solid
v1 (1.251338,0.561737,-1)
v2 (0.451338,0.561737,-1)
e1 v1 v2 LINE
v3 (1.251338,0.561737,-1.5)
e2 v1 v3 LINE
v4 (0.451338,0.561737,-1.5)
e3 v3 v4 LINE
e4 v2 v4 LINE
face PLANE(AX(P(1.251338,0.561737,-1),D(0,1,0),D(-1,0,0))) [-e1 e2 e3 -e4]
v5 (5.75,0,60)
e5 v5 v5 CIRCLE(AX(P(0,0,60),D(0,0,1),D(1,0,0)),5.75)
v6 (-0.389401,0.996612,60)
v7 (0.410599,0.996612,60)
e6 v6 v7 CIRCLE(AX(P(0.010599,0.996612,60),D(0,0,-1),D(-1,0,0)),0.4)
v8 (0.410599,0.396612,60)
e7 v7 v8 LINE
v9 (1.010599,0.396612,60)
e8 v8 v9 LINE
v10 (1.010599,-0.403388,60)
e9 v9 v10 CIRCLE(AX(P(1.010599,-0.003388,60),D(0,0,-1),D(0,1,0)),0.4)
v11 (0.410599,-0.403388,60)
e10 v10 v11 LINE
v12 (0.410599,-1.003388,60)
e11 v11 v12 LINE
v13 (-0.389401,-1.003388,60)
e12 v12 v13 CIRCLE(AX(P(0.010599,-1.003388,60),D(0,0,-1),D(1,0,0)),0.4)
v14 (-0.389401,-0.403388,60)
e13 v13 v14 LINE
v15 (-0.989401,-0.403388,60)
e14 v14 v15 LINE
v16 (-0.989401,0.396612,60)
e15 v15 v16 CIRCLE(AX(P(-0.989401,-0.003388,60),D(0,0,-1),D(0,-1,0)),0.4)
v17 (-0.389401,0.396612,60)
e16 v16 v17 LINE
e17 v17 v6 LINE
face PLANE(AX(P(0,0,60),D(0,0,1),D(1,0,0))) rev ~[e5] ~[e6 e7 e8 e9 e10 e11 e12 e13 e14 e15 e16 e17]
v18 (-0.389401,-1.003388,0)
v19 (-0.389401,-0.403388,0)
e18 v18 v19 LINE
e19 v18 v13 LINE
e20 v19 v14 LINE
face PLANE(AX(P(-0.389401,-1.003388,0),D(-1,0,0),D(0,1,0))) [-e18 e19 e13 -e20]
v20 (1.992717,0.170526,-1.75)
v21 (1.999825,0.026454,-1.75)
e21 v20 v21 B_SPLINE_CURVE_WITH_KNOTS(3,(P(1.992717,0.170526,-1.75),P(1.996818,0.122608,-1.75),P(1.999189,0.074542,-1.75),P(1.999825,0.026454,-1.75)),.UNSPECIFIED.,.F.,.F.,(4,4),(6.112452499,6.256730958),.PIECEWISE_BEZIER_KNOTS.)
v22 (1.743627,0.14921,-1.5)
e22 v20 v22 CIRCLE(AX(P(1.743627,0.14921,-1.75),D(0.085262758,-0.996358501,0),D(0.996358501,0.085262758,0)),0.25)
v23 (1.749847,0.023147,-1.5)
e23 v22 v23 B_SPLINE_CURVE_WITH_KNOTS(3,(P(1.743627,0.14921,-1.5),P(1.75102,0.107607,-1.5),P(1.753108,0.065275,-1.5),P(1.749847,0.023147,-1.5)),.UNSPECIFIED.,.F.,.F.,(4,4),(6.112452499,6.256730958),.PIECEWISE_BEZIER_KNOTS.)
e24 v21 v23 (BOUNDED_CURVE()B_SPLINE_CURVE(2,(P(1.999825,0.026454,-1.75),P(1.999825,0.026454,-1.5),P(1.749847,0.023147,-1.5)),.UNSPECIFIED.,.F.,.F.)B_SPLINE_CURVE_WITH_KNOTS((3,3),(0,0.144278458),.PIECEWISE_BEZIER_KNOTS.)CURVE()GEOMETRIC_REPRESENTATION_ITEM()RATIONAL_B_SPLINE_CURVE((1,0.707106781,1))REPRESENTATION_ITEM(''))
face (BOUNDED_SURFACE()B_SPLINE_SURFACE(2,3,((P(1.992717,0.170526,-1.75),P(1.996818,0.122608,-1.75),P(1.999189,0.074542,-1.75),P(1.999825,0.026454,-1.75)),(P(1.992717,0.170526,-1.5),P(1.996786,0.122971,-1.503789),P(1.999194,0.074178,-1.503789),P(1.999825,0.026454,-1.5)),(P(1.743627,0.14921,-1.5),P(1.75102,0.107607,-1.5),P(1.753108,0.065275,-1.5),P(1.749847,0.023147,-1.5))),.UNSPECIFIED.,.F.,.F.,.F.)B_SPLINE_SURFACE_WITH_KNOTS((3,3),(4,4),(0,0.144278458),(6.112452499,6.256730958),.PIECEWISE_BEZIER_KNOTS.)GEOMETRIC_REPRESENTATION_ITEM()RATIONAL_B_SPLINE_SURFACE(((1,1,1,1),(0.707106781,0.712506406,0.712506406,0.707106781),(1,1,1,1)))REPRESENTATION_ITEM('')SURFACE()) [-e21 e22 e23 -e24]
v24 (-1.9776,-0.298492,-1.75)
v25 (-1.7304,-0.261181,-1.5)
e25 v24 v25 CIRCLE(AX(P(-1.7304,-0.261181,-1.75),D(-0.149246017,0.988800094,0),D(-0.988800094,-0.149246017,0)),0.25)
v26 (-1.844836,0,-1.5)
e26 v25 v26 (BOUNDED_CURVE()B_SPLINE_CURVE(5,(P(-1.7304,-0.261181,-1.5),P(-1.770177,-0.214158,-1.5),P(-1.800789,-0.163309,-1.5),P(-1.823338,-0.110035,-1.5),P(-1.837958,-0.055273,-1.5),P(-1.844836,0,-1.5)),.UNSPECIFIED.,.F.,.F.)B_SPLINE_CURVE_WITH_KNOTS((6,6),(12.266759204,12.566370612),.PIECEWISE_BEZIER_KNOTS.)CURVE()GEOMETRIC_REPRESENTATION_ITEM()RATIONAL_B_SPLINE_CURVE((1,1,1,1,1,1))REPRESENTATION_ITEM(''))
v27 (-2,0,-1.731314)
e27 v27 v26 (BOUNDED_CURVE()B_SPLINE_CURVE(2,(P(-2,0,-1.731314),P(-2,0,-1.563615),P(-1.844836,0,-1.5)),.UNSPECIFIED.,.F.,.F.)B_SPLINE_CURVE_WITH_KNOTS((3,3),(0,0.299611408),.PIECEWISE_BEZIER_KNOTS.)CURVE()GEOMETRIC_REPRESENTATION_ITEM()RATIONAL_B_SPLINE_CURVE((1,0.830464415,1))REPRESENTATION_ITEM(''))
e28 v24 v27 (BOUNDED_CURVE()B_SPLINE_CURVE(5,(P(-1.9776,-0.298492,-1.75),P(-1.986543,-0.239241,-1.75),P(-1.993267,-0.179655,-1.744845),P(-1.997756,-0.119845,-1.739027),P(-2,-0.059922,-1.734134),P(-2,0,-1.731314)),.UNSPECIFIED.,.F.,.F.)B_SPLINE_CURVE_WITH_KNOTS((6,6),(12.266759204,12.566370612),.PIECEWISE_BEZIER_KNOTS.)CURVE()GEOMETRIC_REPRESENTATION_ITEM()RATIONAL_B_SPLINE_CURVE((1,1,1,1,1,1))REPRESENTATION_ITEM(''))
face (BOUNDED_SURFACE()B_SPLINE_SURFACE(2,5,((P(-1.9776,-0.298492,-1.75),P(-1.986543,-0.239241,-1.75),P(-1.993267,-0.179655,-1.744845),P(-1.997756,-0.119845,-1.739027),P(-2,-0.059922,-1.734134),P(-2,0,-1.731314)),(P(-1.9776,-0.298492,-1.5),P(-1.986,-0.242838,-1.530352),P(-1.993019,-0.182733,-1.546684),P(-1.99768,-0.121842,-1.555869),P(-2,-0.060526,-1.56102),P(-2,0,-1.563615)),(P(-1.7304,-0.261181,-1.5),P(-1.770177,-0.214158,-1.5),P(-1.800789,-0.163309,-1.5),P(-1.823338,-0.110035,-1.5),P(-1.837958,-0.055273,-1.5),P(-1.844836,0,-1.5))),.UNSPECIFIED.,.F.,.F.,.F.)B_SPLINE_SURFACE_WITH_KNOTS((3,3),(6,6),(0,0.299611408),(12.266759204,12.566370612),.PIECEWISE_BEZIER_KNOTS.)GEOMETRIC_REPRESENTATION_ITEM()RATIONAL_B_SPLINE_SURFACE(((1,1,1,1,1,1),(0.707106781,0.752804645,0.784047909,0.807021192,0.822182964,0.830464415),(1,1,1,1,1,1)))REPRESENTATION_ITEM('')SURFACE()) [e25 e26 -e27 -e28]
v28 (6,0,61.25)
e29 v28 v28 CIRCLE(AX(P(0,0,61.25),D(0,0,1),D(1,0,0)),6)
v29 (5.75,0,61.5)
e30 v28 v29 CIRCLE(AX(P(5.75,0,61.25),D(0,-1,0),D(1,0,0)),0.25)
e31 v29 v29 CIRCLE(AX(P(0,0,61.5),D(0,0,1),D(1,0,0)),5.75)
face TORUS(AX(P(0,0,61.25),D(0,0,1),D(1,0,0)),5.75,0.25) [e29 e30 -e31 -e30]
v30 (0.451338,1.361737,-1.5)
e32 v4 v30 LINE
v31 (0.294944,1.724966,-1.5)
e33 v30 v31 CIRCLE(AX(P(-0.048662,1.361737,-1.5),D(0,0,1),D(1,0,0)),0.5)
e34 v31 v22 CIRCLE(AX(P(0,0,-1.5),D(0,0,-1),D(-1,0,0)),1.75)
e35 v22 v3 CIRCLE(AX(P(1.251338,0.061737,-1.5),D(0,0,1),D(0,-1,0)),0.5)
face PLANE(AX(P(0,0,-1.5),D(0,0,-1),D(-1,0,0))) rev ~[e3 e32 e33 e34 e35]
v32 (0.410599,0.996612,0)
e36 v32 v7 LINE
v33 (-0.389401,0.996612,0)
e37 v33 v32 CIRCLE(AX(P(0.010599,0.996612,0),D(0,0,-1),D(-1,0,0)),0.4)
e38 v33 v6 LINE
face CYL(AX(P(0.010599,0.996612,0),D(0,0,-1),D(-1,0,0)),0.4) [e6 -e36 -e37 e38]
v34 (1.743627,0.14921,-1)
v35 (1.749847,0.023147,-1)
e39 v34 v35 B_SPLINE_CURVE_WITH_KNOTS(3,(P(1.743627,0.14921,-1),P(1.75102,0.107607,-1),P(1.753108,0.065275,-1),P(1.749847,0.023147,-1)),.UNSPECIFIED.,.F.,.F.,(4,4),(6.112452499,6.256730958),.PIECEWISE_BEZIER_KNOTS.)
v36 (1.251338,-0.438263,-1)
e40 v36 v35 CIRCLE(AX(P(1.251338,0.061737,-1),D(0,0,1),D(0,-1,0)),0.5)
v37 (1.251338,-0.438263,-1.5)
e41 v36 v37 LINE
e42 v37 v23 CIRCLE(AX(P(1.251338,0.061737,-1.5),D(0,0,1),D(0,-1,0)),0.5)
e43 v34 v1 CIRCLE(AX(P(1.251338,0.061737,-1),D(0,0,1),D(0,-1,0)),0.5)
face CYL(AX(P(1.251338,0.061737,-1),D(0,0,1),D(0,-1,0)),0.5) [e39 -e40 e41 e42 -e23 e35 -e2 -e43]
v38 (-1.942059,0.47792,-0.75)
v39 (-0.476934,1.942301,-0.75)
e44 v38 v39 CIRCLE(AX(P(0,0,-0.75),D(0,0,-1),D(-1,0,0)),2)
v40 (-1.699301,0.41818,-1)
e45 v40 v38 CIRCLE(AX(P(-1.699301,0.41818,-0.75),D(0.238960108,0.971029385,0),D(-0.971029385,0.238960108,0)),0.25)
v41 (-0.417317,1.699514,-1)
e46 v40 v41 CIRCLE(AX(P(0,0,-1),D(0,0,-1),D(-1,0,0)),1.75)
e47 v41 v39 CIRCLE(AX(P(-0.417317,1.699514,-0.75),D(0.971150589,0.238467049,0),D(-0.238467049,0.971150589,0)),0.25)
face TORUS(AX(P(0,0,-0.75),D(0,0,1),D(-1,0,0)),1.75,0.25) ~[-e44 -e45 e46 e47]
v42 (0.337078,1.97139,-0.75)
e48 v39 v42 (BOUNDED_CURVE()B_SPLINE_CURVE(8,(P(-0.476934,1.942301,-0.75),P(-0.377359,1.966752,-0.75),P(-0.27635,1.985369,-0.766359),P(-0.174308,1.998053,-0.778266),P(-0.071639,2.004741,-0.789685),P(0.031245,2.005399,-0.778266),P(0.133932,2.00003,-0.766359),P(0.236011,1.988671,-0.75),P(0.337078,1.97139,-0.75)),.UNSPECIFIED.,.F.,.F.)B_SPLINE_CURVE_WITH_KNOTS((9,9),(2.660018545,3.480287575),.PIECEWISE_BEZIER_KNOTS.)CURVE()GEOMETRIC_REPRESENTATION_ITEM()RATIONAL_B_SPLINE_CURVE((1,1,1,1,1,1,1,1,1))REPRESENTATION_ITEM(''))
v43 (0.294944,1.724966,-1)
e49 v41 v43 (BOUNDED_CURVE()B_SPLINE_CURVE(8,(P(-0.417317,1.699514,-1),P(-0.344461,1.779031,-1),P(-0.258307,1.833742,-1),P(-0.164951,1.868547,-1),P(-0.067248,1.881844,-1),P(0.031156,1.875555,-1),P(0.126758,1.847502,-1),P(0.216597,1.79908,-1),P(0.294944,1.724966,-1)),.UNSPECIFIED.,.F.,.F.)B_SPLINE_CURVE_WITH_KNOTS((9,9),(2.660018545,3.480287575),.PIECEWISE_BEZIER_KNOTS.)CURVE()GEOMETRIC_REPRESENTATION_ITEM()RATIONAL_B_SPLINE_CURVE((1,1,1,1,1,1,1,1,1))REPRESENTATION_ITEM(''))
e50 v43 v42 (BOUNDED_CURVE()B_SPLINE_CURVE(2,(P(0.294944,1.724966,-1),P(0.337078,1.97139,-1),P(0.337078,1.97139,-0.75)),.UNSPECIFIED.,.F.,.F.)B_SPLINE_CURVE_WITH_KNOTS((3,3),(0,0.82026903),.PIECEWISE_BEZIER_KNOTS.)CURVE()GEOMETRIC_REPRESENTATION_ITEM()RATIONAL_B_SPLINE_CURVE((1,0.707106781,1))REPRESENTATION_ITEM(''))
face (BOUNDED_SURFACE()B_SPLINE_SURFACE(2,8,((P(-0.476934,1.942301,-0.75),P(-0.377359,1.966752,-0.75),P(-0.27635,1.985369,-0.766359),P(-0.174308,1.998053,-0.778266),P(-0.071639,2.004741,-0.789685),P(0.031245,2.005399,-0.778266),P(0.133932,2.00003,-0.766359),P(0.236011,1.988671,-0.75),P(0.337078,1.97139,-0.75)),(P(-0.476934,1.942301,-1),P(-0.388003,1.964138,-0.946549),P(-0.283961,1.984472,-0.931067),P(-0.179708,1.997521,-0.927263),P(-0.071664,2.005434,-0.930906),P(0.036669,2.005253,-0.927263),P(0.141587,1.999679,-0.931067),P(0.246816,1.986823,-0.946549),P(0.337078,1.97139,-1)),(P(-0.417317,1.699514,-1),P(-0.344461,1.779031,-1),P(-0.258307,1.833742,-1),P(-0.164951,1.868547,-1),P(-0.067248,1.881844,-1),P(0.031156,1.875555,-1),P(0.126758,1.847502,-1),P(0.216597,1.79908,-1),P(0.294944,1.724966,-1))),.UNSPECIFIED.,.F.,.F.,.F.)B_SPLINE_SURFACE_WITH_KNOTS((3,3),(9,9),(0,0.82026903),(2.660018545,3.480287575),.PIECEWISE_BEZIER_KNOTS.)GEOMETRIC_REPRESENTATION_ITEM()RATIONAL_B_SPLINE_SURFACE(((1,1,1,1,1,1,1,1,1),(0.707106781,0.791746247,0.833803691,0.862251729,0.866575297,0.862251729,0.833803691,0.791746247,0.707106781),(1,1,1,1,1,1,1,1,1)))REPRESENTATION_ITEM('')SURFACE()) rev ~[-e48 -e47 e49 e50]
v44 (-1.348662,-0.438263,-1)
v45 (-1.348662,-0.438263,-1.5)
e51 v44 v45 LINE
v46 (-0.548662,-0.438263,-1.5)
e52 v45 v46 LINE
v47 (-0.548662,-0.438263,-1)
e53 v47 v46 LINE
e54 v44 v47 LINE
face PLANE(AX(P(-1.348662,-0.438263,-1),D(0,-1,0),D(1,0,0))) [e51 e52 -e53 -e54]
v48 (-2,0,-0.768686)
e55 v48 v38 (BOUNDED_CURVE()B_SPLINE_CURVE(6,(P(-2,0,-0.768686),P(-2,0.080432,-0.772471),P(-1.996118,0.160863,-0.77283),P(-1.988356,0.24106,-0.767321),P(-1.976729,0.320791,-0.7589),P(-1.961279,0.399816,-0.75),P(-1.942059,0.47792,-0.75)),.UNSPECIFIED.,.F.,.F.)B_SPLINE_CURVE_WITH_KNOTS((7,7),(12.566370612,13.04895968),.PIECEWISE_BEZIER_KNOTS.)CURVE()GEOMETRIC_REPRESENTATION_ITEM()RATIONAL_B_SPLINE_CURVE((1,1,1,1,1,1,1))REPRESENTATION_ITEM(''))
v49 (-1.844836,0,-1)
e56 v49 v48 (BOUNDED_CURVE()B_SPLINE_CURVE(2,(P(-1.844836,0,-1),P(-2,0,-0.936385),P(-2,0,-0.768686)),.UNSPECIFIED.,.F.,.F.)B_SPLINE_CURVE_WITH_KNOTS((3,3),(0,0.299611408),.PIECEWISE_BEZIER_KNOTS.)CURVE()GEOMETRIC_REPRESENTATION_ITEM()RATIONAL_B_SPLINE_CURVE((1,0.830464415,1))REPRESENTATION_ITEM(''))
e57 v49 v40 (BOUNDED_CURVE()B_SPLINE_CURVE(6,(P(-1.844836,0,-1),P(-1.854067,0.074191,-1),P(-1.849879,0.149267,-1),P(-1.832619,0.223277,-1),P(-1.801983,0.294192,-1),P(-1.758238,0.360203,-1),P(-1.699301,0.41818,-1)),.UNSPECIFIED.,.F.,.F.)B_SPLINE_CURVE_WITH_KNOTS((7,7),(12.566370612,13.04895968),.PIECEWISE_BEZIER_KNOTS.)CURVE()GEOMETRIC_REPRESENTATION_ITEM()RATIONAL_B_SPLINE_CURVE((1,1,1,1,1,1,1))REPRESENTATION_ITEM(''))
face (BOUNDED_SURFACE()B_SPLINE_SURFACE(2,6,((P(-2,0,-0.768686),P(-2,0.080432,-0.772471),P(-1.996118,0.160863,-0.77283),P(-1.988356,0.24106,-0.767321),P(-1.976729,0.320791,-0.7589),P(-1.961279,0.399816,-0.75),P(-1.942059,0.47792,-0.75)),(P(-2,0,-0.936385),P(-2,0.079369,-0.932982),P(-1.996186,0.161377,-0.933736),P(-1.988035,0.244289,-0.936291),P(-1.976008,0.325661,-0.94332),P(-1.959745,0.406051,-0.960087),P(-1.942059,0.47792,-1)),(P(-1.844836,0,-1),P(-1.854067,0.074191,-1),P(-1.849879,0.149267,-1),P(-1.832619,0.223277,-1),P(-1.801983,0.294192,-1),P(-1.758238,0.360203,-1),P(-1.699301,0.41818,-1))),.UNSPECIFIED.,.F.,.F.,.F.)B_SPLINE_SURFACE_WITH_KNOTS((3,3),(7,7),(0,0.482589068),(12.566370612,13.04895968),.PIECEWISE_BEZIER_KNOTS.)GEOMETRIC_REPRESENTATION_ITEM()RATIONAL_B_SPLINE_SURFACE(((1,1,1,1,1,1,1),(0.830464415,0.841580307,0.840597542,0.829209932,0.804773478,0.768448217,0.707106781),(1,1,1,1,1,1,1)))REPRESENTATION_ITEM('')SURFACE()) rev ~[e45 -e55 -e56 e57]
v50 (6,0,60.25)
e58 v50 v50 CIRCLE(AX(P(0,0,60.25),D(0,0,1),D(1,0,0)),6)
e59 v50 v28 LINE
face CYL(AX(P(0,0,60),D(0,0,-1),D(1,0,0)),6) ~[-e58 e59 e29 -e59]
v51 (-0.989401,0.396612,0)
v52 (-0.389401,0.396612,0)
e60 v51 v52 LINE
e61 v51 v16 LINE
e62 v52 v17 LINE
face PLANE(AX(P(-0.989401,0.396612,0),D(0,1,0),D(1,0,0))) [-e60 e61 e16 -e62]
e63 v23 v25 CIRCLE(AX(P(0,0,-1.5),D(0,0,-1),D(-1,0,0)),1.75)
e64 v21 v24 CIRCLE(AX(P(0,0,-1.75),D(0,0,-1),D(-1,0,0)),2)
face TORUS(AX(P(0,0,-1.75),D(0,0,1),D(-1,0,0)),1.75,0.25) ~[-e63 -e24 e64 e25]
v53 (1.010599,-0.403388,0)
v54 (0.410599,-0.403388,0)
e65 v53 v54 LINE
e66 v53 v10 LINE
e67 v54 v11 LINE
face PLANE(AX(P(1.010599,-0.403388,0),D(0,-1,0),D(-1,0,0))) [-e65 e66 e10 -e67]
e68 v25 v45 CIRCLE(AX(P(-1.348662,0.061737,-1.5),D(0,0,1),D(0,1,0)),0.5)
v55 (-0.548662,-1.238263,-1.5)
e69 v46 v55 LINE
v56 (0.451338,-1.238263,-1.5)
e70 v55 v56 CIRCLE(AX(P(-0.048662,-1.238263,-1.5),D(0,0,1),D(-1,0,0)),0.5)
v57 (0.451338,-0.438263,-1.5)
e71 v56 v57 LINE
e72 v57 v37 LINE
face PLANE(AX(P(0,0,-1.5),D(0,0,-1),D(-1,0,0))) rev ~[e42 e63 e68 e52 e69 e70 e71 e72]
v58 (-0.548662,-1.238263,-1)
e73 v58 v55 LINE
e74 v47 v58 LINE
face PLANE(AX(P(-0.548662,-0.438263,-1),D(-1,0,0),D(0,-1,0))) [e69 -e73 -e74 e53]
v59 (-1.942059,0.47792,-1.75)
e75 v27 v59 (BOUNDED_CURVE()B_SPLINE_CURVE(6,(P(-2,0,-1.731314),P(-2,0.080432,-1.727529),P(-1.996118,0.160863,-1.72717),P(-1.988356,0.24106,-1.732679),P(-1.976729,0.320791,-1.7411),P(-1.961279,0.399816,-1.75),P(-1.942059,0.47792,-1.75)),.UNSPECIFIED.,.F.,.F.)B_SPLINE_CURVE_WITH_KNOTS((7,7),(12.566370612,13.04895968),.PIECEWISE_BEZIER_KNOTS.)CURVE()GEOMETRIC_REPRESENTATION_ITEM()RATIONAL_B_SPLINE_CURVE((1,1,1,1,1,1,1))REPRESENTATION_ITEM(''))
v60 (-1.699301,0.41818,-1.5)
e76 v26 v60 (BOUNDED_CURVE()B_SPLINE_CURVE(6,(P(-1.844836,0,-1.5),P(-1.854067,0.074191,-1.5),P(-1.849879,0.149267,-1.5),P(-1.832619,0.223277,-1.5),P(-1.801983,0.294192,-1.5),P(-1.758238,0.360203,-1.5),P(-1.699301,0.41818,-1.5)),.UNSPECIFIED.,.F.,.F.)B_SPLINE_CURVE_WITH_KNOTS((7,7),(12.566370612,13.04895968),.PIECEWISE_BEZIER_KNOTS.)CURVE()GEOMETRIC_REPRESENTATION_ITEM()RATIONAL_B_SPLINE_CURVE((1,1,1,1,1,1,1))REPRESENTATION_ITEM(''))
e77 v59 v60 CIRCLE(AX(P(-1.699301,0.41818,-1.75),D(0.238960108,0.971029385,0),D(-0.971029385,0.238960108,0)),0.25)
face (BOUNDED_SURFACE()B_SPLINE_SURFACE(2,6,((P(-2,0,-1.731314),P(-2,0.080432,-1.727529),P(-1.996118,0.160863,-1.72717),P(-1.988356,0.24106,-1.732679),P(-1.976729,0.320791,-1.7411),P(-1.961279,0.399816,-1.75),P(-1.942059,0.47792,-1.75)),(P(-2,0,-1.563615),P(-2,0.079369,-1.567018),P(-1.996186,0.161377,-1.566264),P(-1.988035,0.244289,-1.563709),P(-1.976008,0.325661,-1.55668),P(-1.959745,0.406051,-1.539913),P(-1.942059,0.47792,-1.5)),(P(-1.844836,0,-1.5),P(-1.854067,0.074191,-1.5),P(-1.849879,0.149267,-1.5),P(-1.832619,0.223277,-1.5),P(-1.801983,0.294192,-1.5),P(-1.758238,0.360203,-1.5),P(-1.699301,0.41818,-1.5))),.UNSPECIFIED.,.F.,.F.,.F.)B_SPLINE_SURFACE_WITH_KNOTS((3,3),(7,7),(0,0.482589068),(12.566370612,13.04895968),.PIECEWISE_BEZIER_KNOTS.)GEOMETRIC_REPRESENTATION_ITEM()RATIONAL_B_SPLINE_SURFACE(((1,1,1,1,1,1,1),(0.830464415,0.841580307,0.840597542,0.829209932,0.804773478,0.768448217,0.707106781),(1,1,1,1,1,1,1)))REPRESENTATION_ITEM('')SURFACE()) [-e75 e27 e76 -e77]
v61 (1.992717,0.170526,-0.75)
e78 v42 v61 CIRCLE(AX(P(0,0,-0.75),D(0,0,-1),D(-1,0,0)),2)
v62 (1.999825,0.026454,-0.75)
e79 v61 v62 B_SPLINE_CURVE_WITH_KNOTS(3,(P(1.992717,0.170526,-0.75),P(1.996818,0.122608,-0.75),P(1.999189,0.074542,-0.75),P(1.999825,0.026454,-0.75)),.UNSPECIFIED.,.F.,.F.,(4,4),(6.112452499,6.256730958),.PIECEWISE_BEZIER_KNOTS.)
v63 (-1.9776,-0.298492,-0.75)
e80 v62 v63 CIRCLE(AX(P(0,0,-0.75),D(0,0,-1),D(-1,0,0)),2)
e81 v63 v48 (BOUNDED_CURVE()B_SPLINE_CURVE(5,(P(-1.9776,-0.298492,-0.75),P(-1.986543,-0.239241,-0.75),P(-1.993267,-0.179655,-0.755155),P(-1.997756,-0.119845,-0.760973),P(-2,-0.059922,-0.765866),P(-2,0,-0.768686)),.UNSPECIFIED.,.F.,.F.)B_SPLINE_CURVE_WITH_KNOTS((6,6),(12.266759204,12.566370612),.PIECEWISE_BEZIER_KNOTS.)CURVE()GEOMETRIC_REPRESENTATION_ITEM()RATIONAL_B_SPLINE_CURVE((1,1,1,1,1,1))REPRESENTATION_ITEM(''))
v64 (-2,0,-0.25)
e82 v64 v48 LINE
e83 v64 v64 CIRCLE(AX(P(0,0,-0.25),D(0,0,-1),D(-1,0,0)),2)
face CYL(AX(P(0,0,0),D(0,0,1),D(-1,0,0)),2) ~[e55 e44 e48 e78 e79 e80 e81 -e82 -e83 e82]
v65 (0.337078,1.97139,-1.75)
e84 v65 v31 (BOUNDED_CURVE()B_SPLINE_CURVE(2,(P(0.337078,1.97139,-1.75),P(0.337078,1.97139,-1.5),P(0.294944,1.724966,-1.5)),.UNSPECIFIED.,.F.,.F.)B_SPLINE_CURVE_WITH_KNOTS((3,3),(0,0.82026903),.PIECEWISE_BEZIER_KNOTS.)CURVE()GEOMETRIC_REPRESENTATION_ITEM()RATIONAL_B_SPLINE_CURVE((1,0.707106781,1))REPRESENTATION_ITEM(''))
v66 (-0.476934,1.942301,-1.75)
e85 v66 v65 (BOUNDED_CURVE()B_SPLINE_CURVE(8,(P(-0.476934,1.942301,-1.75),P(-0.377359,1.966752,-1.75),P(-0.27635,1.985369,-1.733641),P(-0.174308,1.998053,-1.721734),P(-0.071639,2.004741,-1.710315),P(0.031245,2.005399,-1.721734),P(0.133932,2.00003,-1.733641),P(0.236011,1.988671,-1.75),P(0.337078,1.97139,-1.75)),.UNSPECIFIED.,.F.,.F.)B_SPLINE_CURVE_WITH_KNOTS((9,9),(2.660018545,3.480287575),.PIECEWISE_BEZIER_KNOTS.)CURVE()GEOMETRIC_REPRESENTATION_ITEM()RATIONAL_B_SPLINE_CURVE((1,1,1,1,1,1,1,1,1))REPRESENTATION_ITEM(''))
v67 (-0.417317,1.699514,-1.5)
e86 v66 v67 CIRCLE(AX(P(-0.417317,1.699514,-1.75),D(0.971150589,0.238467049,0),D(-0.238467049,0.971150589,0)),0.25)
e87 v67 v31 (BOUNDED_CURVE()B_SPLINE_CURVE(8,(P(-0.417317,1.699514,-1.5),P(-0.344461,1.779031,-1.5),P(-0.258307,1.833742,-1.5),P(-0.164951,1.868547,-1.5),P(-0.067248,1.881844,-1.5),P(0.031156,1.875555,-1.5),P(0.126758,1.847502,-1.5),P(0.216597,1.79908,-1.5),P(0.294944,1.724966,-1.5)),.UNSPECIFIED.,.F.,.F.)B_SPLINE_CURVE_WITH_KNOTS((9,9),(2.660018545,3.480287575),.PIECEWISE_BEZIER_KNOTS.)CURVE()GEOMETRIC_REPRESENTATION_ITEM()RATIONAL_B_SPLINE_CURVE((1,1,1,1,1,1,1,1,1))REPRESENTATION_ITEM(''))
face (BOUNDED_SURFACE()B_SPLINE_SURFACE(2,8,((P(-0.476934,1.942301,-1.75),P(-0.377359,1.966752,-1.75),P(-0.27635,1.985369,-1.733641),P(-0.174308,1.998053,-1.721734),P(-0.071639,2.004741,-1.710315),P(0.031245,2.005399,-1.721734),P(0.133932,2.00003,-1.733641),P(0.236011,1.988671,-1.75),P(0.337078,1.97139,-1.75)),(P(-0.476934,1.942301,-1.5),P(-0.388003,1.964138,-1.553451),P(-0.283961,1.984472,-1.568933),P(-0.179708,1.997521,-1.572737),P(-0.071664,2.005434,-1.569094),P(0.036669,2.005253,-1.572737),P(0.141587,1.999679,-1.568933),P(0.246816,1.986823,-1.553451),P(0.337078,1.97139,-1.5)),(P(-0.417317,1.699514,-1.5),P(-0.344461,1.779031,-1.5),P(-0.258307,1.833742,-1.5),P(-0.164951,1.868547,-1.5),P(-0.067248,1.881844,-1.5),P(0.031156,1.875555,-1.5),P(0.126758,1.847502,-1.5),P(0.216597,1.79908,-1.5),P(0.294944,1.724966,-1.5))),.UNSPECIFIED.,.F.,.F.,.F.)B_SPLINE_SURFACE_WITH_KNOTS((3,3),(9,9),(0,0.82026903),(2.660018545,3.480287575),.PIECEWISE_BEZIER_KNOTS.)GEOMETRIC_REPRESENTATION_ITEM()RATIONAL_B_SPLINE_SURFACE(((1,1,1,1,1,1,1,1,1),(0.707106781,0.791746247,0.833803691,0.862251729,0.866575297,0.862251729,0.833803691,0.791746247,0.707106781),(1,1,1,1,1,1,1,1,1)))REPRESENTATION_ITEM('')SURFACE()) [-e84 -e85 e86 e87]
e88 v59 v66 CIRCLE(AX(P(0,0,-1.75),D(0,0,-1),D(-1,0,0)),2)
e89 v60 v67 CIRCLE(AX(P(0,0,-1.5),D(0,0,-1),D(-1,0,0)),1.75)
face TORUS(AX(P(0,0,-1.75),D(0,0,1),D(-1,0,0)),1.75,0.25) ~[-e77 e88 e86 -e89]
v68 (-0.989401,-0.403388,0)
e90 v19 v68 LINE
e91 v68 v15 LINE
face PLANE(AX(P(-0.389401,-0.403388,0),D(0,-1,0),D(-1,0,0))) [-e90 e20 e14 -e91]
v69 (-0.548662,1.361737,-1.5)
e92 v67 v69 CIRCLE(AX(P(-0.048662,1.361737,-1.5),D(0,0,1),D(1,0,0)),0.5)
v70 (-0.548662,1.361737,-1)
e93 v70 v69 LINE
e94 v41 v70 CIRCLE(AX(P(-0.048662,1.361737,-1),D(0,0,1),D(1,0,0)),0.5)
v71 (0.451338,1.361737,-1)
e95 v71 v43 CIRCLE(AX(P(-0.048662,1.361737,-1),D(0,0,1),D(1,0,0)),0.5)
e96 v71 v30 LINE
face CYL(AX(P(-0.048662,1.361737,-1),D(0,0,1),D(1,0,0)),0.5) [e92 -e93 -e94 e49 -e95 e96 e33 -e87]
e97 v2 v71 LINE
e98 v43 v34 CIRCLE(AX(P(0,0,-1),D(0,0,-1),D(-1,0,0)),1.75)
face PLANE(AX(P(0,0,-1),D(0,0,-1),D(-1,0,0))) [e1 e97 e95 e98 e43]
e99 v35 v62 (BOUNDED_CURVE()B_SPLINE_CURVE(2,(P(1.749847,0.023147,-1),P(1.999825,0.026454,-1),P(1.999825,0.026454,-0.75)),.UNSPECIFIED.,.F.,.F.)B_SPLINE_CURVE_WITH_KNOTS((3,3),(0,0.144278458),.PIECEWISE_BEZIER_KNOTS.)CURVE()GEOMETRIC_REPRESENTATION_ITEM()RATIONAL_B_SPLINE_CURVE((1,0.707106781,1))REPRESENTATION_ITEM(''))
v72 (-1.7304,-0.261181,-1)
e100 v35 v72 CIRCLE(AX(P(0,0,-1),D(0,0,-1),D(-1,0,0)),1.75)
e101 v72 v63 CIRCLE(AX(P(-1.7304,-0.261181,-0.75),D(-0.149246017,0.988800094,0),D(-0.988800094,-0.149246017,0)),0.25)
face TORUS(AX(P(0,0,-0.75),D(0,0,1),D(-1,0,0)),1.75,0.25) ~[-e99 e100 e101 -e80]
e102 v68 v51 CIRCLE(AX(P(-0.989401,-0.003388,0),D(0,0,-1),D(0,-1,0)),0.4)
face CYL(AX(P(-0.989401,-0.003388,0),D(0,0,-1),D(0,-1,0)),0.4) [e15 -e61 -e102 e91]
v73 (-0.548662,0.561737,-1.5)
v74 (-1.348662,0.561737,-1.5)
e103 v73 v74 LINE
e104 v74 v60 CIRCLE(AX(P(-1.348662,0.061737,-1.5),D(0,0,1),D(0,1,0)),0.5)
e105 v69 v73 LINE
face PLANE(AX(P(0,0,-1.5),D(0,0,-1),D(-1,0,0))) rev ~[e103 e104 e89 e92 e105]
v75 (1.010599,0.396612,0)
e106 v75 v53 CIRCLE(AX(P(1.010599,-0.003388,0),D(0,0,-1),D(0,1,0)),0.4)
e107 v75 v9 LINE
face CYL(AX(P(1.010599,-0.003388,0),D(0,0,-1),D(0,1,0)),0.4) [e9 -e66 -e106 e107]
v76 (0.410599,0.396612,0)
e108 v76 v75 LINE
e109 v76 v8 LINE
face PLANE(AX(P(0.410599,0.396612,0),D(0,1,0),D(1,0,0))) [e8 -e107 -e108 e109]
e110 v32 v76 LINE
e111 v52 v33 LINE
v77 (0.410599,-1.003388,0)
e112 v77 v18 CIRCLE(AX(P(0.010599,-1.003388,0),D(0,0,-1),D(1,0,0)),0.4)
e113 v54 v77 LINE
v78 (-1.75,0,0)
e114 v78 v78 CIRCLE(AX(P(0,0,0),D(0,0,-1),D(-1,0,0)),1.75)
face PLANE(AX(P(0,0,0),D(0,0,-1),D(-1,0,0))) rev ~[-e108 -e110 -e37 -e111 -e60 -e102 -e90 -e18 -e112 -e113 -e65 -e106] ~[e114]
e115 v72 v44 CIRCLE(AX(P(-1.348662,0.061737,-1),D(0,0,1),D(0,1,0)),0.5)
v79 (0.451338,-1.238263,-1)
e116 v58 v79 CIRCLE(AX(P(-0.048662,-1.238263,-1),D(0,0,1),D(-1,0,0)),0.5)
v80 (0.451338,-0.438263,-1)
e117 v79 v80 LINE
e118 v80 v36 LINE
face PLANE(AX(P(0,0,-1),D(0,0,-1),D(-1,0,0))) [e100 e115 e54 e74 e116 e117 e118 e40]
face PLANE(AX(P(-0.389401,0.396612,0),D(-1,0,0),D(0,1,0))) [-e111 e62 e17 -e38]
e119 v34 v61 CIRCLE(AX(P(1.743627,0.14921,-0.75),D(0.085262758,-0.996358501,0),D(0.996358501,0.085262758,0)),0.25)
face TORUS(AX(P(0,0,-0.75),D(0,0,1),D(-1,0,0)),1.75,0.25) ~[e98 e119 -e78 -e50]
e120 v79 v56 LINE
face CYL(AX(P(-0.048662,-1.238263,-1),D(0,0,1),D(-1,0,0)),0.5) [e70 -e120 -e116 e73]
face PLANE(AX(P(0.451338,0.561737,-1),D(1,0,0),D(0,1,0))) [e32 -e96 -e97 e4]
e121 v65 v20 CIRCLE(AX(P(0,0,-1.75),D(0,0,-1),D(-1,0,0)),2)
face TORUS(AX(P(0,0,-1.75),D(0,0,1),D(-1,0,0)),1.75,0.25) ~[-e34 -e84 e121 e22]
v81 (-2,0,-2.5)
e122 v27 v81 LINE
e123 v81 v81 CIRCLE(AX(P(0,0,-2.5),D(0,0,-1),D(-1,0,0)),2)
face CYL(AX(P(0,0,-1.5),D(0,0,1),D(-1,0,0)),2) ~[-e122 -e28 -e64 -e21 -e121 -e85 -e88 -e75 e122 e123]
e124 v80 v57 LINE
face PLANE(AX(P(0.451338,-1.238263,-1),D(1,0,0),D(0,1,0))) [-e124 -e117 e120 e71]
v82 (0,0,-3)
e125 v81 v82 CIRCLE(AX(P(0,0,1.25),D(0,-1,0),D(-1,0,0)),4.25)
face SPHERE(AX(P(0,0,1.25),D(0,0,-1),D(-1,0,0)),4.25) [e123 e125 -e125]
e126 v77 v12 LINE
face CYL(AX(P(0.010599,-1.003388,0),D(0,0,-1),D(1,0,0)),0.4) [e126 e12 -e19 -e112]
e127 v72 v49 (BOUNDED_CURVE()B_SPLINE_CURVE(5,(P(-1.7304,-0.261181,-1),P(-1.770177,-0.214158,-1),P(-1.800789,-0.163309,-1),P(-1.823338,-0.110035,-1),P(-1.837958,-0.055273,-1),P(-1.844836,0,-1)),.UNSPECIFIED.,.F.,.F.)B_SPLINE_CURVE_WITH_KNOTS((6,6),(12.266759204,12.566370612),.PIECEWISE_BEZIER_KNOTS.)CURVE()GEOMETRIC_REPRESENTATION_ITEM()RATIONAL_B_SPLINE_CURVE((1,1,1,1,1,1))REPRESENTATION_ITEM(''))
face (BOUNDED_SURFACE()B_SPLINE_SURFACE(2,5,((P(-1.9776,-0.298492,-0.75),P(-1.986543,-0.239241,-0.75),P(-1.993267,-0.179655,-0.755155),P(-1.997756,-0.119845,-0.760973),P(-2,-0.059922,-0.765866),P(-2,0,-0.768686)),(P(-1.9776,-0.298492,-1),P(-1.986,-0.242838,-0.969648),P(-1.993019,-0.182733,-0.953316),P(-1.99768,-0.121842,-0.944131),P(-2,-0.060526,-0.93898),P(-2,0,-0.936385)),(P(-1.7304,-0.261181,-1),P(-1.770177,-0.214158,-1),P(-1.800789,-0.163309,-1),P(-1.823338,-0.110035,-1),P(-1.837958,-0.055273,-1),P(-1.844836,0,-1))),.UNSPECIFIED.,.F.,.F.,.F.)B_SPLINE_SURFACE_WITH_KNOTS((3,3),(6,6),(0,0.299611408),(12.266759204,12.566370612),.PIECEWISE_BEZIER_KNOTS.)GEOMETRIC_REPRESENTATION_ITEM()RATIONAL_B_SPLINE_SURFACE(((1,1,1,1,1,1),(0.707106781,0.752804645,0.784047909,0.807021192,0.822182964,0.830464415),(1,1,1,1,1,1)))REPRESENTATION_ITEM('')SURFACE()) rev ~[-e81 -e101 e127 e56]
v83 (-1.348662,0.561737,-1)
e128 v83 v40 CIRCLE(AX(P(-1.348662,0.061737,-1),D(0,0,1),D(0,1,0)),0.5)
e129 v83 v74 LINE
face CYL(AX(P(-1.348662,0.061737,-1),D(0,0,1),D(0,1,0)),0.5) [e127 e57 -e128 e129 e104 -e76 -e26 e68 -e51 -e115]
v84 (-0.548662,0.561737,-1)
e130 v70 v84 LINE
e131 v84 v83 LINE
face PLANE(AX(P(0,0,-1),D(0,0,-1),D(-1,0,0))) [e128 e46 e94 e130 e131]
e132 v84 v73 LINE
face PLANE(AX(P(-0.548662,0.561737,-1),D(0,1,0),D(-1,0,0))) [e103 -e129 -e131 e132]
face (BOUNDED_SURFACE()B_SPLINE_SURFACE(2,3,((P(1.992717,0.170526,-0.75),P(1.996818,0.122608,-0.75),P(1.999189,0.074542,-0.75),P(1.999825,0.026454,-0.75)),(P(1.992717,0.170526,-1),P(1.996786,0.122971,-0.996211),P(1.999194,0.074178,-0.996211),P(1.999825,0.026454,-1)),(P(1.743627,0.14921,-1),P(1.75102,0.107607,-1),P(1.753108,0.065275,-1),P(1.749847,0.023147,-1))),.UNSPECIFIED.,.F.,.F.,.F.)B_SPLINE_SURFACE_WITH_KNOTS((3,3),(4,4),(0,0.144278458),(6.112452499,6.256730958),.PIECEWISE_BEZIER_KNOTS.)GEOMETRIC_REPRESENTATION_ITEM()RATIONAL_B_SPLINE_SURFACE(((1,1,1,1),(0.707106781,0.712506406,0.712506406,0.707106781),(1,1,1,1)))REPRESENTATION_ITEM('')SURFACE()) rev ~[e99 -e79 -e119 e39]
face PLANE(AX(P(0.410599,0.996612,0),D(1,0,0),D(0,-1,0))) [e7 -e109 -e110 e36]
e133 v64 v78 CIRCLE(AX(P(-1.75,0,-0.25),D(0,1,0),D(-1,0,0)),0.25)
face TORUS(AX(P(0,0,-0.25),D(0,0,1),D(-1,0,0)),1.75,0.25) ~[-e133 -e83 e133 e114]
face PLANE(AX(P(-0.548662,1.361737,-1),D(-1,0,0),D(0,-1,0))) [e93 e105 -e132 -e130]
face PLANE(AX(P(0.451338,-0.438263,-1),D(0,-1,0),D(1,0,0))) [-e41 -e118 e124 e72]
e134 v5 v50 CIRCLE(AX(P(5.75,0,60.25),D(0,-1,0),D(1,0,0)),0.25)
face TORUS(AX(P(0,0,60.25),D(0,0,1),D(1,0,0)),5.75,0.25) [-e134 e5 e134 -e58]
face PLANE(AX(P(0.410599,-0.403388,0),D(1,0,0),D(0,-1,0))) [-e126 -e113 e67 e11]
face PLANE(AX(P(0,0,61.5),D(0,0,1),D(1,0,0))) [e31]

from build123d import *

# Parameters (mm, degrees)
BOSS_EXTRUDE1_DEPTH = 60
SKETCH4_R           = 6
BOSS_EXTRUDE2_DEPTH = 1.5
SKETCH5_R           = 2
BOSS_EXTRUDE3_DEPTH = 1
BOSS_EXTRUDE4_DEPTH = 0.5
SKETCH9_R           = 2
BOSS_EXTRUDE5_DEPTH = 1
DOME1_FACE_RADIUS   = 2
DOME1_HEIGHT        = 0.5
FILLET1_R           = 0.25


with BuildPart() as part:
    # Sketch3 → Boss-Extrude1 (new body)
    with BuildSketch(Plane.XY):
        with BuildLine():
            ThreePointArc((-0.989400555, -0.403387526), (-1.389400555, -0.003387526), (-0.989400555, 0.396612474))
            Line((-0.989400555, 0.396612474), (-0.389400555, 0.396612474))
            Line((-0.389400555, 0.396612474), (-0.389400555, 0.996612474))
            ThreePointArc((-0.389400555, 0.996612474), (0.010599445, 1.396612474), (0.410599445, 0.996612474))
            Line((0.410599445, 0.996612474), (0.410599445, 0.396612474))
            Line((0.410599445, 0.396612474), (1.010599445, 0.396612474))
            ThreePointArc((1.010599445, 0.396612474), (1.410599445, -0.003387526), (1.010599445, -0.403387526))
            Line((1.010599445, -0.403387526), (0.410599445, -0.403387526))
            Line((0.410599445, -0.403387526), (0.410599445, -1.003387526))
            ThreePointArc((0.410599445, -1.003387526), (0.010599445, -1.403387526), (-0.389400555, -1.003387526))
            Line((-0.389400555, -1.003387526), (-0.389400555, -0.403387526))
            Line((-0.389400555, -0.403387526), (-0.989400555, -0.403387526))
        make_face()
    extrude(amount=BOSS_EXTRUDE1_DEPTH)

    # Sketch4 → Boss-Extrude2 (add)
    with BuildSketch(Plane.XY.offset(60)):
        Circle(SKETCH4_R)
    extrude(amount=BOSS_EXTRUDE2_DEPTH)

    # Sketch5 → Boss-Extrude3 (add)
    with BuildSketch(Plane(origin=(0, 0, 0), x_dir=(-1, 0, 0), z_dir=(0, 0, -1))):
        Circle(SKETCH5_R)
    extrude(amount=BOSS_EXTRUDE3_DEPTH)

    # Sketch6 → Boss-Extrude4 (add)
    with BuildSketch(Plane(origin=(0, 0, -1), x_dir=(-1, 0, 0), z_dir=(0, 0, -1))):
        with BuildLine():
            Line((-0.451338334, 0.561736981), (-0.451338334, 1.361736981))
            ThreePointArc((-0.451338334, 1.361736981), (0.048661666, 1.861736981), (0.548661666, 1.361736981))
            Line((0.548661666, 1.361736981), (0.548661666, 0.561736981))
            Line((0.548661666, 0.561736981), (1.348661666, 0.561736981))
            ThreePointArc((1.348661666, 0.561736981), (1.848661666, 0.061736981), (1.348661666, -0.438263019))
            Line((1.348661666, -0.438263019), (0.548661666, -0.438263019))
            Line((0.548661666, -0.438263019), (0.548661666, -1.238263019))
            ThreePointArc((0.548661666, -1.238263019), (0.048661666, -1.738263019), (-0.451338334, -1.238263019))
            Line((-0.451338334, -1.238263019), (-0.451338334, -0.438263019))
            Line((-0.451338334, -0.438263019), (-1.251338334, -0.438263019))
            ThreePointArc((-1.251338334, -0.438263019), (-1.751338334, 0.061736981), (-1.251338334, 0.561736981))
            Line((-1.251338334, 0.561736981), (-0.451338334, 0.561736981))
        make_face()
    extrude(amount=BOSS_EXTRUDE4_DEPTH)

    # Sketch9 → Boss-Extrude5 (add)
    with BuildSketch(Plane(origin=(0, 0, -1.5), x_dir=(-1, 0, 0), z_dir=(0, 0, -1))):
        Circle(SKETCH9_R)
    extrude(amount=BOSS_EXTRUDE5_DEPTH)

    # Dome1: a dome of height H over a round flat face of radius A is a cap of a sphere of radius (A * A + H * H) / (2 * H)
    dome1_r = (DOME1_FACE_RADIUS * DOME1_FACE_RADIUS + DOME1_HEIGHT * DOME1_HEIGHT) / (2 * DOME1_HEIGHT)
    dome1_base = Plane((0, 0, -2.5), z_dir=(0, 0, -1))
    with Locations(dome1_base.offset(DOME1_HEIGHT - dome1_r)):
        dome1_ball = Sphere(dome1_r, mode=Mode.PRIVATE)
    add(split(dome1_ball, bisect_by=dome1_base, keep=Keep.TOP, mode=Mode.PRIVATE))

    # Fillet1
    fillet1_edges = [part.edges().sort_by_distance(p)[0] for p in [
        (-6, 0, 60),
        (-6, 0, 61.5),
        (2, 0, 0),
        (2, 0, -1),
        (2, 0, -1.5),
    ]]
    fillet(fillet1_edges, radius=FILLET1_R)


solid = part.part
